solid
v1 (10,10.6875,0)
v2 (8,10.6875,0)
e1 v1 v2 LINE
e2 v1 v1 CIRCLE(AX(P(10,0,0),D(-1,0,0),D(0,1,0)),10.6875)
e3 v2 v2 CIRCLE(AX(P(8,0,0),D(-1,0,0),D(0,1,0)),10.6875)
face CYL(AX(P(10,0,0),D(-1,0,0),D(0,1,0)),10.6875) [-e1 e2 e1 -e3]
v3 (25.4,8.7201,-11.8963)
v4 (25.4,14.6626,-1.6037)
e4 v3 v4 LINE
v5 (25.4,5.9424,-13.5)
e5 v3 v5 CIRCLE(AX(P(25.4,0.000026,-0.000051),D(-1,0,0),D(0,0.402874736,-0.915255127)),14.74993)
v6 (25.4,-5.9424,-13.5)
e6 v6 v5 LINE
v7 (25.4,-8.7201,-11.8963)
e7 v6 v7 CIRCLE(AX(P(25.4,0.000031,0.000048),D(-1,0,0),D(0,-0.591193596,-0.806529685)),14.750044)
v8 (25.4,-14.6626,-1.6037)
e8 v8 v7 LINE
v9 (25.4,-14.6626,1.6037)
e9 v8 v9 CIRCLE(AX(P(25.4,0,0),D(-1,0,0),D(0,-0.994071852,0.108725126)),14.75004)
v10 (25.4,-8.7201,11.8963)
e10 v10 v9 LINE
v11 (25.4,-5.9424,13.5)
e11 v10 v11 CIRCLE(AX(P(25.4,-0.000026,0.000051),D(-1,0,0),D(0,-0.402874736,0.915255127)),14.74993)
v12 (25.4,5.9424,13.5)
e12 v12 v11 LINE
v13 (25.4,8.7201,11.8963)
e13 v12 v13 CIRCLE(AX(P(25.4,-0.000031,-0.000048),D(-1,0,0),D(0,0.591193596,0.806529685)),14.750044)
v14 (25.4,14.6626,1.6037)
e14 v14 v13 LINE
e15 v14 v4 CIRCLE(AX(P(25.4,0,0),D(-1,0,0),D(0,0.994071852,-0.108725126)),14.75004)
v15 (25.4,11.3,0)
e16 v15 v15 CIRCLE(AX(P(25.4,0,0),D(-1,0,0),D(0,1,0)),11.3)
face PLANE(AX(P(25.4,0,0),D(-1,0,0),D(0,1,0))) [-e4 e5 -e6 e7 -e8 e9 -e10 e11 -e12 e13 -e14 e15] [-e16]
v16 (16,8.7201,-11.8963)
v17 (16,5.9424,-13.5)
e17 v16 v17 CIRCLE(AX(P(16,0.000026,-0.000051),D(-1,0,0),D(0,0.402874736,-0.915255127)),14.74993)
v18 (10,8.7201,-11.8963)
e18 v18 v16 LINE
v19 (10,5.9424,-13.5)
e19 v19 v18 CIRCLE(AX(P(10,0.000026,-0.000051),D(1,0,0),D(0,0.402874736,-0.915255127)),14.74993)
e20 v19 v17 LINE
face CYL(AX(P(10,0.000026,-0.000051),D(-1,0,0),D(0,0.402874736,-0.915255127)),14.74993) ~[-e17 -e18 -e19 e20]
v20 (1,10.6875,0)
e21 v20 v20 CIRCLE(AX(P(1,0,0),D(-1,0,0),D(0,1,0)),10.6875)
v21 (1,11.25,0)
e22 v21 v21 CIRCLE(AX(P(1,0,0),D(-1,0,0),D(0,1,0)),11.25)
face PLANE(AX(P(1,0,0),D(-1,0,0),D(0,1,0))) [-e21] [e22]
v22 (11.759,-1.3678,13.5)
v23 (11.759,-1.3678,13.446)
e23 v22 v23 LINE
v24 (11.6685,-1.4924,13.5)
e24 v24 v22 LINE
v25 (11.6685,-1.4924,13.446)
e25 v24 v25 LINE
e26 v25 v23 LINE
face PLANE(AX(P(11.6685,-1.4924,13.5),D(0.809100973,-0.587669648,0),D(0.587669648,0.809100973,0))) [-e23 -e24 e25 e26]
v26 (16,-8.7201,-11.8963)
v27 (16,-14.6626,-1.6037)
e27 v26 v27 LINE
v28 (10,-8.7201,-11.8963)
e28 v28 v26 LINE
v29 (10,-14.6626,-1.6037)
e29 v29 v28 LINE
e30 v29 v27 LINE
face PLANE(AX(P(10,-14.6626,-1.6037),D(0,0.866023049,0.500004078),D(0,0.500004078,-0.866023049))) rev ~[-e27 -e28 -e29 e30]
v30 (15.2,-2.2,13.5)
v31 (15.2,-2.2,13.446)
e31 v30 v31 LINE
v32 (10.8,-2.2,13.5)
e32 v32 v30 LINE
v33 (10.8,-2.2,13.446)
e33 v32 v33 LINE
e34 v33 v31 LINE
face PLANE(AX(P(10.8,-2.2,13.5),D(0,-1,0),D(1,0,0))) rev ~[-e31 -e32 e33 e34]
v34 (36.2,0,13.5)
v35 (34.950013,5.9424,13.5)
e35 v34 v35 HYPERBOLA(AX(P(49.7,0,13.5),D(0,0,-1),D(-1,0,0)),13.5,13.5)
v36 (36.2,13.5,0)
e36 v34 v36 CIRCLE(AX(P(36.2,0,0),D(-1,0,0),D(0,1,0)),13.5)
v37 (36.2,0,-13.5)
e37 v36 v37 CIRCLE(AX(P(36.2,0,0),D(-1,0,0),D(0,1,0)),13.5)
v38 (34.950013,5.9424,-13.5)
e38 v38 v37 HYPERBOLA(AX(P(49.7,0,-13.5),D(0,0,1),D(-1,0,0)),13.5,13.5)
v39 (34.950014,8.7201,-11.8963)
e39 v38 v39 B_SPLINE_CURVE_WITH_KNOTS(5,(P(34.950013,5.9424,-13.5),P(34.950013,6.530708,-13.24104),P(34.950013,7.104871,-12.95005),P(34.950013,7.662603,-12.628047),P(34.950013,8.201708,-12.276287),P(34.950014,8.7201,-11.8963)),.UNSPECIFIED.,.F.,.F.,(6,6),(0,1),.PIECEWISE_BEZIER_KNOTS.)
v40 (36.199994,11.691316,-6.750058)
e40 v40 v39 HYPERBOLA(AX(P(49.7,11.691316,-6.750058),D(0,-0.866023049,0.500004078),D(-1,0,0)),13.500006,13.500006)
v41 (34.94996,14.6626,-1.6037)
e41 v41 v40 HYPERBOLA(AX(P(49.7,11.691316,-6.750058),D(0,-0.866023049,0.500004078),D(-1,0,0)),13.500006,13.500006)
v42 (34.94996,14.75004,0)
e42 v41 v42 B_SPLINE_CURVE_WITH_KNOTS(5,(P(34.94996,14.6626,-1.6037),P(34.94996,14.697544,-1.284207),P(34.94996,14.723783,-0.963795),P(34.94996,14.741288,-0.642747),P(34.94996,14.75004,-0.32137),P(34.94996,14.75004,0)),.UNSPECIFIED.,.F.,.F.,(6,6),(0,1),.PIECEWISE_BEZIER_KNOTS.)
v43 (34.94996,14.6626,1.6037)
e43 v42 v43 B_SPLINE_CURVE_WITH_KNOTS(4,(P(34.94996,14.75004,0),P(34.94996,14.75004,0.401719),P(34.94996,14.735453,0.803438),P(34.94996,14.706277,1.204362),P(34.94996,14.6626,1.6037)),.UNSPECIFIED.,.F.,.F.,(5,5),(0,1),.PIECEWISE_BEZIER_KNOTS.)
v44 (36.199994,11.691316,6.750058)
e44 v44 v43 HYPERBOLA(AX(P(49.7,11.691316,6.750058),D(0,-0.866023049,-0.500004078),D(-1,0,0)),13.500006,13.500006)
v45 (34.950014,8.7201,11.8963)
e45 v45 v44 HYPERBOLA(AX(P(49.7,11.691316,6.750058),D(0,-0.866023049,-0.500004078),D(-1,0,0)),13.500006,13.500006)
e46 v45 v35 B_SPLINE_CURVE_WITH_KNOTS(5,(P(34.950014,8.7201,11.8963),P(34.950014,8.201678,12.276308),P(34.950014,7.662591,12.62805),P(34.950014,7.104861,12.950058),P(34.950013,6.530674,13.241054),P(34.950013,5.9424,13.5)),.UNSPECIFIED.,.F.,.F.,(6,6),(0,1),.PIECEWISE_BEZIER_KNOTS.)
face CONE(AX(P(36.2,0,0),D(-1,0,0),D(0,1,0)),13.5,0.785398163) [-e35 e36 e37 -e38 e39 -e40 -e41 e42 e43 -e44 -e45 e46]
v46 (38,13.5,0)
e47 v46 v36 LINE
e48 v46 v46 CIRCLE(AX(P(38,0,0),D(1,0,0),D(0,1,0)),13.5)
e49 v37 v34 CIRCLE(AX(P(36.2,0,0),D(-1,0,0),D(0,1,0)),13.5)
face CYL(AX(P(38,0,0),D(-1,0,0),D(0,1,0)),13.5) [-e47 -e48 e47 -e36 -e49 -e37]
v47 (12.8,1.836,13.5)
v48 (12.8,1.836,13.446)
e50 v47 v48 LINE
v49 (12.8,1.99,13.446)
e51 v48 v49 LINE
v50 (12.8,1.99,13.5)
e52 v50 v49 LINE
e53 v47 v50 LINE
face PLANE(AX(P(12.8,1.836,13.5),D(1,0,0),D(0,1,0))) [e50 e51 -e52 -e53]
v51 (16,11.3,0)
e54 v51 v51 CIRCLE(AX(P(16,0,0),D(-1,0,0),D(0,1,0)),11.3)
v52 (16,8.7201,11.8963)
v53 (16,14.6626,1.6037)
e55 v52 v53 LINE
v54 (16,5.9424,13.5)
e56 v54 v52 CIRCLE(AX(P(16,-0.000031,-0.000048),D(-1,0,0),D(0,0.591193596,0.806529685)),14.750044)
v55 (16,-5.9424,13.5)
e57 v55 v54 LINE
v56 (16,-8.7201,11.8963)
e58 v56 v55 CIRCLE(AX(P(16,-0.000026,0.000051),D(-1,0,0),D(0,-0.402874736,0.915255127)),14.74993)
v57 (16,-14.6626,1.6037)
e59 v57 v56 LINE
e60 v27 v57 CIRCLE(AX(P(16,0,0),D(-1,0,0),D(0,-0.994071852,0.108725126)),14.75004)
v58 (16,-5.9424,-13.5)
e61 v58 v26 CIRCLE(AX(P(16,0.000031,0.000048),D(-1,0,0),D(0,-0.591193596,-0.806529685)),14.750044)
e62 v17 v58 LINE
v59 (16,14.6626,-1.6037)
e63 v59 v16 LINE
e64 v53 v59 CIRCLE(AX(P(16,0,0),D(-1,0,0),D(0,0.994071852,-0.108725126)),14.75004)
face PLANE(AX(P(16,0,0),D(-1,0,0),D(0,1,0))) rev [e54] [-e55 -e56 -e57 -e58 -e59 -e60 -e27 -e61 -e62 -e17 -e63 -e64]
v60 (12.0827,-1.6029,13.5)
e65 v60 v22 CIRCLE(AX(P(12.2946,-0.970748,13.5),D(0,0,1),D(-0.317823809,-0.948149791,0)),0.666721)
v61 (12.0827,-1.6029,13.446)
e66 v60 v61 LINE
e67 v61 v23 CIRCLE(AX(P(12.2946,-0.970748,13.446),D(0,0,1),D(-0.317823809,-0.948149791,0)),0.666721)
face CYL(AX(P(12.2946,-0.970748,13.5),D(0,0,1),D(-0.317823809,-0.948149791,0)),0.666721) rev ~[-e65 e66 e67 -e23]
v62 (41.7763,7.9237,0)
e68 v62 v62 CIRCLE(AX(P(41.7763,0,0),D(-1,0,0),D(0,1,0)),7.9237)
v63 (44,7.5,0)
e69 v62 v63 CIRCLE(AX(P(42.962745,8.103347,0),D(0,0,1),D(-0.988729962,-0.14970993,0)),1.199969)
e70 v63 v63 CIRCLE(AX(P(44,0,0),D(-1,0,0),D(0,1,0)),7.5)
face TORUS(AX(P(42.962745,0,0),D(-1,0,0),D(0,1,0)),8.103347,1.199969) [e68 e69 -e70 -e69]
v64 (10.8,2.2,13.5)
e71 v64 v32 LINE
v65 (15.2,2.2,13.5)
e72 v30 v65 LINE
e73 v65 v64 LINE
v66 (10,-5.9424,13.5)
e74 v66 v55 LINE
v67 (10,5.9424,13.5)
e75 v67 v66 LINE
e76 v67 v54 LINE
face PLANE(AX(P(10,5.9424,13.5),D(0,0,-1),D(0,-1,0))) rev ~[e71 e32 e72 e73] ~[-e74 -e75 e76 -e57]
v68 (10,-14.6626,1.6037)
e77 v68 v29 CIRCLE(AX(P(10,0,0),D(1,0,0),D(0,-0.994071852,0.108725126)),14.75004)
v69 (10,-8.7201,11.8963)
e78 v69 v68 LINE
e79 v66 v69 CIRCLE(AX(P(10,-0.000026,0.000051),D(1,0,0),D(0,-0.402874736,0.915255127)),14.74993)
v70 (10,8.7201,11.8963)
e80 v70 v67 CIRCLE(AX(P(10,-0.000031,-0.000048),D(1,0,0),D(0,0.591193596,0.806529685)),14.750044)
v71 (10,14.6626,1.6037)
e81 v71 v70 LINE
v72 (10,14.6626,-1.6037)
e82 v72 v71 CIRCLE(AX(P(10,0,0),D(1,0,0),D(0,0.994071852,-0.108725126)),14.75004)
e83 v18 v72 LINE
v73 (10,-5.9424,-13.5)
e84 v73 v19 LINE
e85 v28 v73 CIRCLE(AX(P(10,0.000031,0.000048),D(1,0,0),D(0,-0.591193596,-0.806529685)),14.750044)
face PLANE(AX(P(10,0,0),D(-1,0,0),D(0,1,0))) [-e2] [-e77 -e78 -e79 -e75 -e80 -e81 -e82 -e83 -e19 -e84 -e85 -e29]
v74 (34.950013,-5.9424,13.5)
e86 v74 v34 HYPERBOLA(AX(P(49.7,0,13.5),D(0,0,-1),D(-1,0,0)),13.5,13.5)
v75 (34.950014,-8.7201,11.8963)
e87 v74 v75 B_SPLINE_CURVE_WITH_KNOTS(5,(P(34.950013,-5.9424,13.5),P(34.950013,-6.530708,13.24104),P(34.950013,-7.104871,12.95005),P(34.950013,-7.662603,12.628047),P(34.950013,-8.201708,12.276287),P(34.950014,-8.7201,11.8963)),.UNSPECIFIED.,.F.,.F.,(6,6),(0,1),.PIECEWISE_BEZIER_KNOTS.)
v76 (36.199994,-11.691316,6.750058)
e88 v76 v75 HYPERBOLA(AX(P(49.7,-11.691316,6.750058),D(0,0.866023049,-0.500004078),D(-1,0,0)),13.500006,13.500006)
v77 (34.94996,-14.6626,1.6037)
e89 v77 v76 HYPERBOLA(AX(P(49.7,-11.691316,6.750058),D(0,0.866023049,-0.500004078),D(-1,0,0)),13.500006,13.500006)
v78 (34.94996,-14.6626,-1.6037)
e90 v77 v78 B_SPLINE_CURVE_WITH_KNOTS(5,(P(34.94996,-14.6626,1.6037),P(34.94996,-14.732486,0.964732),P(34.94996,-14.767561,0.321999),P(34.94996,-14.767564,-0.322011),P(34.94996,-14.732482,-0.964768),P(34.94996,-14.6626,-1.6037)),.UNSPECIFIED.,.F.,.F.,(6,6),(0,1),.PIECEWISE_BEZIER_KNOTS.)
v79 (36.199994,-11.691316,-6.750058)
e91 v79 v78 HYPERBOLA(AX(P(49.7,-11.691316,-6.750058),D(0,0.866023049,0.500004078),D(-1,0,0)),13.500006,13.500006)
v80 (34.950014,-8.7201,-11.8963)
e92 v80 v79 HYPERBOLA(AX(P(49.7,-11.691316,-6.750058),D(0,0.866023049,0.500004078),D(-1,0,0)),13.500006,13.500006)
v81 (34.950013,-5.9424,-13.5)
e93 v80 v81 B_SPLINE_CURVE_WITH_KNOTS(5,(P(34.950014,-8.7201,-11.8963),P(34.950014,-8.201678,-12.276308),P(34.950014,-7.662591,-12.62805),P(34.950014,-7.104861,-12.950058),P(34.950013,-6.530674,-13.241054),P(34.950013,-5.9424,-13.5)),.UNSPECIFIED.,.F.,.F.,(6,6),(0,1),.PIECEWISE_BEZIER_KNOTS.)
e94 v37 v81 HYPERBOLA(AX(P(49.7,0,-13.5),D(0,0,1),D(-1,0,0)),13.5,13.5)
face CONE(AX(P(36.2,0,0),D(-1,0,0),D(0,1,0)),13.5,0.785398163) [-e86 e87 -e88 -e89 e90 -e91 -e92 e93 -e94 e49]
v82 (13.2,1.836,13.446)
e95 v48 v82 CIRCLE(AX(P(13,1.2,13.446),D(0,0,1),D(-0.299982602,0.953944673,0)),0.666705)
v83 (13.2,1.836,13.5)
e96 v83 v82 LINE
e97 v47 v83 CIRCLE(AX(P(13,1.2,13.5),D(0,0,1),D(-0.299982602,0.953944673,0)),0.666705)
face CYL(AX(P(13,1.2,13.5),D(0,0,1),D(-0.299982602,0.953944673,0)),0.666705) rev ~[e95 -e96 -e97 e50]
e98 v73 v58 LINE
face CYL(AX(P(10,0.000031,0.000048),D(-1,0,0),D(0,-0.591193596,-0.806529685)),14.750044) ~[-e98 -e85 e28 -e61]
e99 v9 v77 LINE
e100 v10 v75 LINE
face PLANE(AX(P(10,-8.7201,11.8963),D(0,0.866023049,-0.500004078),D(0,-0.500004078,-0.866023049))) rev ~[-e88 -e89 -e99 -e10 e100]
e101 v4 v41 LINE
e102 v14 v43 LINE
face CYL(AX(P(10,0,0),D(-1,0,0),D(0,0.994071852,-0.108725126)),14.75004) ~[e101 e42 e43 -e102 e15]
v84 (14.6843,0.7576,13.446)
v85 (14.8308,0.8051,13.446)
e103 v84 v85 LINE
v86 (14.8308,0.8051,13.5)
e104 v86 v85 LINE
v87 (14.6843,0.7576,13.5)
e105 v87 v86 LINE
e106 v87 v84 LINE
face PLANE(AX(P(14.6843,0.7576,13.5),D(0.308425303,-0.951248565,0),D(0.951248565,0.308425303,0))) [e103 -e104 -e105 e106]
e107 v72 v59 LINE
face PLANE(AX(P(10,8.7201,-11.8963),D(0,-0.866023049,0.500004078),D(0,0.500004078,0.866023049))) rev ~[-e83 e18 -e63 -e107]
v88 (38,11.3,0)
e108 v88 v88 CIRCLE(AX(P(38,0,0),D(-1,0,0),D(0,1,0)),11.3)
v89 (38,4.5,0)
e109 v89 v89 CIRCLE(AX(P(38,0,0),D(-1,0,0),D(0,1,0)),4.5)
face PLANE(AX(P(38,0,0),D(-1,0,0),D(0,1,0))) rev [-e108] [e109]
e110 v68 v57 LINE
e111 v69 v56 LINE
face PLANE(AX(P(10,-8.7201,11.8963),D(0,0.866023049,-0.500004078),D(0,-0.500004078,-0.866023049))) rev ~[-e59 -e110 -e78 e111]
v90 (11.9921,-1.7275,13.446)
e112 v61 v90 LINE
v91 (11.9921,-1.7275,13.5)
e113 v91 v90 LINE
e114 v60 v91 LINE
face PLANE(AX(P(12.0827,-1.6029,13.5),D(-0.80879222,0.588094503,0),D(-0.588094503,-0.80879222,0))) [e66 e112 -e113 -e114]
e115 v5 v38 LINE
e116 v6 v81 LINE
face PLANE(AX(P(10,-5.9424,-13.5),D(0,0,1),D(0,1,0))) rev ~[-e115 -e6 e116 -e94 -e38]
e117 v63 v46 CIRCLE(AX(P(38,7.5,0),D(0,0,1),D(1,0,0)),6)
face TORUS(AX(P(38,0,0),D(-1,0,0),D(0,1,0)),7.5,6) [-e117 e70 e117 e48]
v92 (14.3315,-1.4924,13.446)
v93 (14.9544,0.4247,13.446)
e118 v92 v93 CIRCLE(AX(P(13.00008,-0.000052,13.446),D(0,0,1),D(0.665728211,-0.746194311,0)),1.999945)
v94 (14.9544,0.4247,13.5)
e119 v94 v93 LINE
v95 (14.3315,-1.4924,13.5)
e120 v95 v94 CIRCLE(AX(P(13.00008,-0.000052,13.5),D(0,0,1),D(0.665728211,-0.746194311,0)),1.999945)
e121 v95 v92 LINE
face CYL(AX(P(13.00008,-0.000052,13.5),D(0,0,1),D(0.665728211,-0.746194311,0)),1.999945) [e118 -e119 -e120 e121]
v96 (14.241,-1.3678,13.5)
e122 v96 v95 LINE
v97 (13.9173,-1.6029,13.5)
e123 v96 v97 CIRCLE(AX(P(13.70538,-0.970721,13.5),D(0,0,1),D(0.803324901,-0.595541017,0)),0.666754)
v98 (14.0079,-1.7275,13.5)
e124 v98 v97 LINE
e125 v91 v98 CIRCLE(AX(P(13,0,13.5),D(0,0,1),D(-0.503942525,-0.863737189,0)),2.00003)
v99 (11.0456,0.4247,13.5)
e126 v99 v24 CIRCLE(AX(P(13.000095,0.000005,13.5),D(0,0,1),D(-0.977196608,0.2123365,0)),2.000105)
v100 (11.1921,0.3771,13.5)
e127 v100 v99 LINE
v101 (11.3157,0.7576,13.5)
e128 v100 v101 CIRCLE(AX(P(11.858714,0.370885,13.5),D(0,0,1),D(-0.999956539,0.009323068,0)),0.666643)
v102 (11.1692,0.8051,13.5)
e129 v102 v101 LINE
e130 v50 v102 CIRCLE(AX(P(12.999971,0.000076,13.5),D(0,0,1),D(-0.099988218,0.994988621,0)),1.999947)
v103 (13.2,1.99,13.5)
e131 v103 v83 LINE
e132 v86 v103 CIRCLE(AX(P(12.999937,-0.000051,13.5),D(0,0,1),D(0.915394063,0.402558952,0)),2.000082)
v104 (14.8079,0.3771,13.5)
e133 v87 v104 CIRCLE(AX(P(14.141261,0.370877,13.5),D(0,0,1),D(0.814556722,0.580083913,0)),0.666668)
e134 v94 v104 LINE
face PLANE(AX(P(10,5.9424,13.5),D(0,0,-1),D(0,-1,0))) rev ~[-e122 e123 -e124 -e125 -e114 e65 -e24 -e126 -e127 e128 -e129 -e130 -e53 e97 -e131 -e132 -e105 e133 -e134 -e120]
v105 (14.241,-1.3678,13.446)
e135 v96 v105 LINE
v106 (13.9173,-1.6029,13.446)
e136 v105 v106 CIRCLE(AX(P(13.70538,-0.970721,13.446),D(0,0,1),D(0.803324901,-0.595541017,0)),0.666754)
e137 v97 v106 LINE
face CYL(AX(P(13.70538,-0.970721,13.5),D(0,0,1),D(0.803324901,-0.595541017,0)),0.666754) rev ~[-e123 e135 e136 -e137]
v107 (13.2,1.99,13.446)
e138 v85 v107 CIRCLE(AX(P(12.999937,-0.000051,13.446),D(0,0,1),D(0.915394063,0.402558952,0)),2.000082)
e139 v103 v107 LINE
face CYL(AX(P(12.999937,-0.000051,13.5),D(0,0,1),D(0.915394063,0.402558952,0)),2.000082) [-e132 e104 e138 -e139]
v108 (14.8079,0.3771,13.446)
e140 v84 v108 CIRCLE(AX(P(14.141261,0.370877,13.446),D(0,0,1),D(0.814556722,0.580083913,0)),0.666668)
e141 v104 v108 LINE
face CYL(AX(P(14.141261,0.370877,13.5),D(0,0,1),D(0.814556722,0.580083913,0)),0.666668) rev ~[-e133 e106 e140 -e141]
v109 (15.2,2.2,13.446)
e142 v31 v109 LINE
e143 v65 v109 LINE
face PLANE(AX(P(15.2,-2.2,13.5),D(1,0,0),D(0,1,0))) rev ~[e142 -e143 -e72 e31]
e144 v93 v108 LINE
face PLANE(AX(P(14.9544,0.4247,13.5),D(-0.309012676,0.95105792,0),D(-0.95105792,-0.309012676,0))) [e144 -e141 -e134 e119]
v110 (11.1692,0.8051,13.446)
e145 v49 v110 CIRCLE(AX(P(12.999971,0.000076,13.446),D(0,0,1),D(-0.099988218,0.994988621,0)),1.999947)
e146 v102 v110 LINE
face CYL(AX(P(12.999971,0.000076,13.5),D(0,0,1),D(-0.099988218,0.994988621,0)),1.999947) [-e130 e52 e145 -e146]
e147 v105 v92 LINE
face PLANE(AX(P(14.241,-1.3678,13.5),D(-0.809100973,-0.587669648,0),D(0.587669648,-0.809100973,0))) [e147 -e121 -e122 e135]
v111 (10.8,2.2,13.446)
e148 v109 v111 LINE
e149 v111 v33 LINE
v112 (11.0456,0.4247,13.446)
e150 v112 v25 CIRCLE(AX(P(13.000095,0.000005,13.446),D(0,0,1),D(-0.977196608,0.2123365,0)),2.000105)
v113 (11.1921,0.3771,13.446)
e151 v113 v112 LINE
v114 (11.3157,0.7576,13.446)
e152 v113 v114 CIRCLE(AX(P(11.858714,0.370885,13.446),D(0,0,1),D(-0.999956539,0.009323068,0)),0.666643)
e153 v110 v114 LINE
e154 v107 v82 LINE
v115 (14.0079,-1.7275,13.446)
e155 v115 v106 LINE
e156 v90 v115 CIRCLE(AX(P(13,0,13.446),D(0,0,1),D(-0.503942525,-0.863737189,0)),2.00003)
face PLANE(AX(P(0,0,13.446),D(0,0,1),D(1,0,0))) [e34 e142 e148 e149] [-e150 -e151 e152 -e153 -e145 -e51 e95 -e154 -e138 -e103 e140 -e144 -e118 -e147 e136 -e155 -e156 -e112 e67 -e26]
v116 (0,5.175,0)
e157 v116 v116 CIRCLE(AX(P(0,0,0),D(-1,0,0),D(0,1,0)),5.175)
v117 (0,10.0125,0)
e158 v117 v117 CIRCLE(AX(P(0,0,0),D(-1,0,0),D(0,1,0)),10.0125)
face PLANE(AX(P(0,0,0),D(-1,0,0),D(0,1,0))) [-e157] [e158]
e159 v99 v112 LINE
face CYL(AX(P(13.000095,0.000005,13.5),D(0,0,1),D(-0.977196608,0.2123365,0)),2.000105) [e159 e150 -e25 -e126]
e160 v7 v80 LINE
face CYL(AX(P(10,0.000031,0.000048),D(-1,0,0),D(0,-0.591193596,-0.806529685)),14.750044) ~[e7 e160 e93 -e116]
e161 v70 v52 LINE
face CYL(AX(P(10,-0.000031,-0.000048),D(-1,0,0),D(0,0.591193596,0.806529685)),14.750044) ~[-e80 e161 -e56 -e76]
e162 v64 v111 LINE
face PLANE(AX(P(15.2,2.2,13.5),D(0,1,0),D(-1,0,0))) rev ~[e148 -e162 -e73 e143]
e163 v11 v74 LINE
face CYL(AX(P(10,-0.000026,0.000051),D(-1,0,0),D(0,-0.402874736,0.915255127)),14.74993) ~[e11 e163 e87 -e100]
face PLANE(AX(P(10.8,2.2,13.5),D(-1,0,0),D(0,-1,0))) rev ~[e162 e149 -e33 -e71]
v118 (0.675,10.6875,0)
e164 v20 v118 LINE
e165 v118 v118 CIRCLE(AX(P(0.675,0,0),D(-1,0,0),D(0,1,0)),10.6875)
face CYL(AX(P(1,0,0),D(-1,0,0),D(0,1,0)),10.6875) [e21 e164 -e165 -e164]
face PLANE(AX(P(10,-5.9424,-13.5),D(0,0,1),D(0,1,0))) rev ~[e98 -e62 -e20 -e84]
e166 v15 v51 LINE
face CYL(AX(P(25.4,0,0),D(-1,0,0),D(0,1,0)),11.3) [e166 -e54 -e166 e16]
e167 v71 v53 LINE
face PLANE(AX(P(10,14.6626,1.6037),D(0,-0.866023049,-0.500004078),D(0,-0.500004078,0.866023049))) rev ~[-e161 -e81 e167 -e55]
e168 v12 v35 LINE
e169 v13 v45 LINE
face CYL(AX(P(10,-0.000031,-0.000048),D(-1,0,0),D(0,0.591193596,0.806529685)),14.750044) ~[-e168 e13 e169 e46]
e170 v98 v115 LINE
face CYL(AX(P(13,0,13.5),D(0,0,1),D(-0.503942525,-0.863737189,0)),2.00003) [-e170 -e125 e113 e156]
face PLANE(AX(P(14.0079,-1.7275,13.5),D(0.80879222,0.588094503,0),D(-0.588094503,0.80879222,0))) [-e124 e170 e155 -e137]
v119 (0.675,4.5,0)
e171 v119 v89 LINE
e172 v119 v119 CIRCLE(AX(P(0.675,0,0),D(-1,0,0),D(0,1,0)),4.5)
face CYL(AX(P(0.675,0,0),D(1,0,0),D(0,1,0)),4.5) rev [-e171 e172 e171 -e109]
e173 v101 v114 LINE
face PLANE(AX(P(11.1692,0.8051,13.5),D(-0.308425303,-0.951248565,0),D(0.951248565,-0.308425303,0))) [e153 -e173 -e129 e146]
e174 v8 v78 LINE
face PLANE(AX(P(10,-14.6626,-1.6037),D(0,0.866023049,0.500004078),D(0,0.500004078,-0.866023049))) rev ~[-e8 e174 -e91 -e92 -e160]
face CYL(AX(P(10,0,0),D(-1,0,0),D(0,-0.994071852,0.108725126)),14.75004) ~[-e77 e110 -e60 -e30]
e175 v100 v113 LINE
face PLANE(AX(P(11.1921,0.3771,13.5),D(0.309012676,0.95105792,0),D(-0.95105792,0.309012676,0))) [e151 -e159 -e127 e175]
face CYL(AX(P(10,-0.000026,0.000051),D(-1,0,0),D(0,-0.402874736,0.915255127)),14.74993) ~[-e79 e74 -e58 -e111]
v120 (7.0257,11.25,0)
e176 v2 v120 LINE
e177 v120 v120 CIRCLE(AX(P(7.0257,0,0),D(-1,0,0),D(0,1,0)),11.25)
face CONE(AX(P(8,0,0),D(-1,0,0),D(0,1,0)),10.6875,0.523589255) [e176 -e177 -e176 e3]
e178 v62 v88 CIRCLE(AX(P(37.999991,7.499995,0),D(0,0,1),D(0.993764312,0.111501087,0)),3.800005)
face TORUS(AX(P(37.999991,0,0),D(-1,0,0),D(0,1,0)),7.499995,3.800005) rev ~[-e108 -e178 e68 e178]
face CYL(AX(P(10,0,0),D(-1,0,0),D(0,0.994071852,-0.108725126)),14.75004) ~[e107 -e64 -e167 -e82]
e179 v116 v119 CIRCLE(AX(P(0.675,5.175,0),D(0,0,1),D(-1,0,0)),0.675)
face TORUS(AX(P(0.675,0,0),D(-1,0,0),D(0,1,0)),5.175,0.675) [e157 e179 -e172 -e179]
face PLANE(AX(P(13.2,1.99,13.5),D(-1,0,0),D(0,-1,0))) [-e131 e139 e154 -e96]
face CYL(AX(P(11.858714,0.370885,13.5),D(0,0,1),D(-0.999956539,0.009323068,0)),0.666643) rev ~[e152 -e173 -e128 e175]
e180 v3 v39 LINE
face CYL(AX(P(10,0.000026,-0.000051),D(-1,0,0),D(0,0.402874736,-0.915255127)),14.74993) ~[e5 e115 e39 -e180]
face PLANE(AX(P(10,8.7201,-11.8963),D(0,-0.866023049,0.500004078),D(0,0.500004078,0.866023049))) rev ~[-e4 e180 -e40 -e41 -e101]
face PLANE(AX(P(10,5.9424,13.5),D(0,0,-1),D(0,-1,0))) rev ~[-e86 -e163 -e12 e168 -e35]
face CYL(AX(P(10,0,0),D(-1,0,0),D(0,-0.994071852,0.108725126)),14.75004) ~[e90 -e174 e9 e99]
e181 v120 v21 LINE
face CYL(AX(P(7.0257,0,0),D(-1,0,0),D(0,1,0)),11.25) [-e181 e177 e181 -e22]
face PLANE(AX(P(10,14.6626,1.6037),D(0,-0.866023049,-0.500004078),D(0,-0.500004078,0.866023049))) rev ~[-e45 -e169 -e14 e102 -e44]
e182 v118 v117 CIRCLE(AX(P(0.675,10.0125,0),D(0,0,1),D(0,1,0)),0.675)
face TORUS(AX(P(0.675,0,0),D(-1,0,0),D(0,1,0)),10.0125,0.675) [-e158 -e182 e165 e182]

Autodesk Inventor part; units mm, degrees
ref_plane "YZ Plane" through (0, 0, 0) normal (1, 0, 0) x (0, 1, 0)
ref_plane "XZ Plane" through (0, 0, 0) normal (0, 1, 0) x (-1, 0, 0)
ref_plane "XY Plane" through (0, 0, 0) normal (0, 0, 1) x (1, 0, 0)
sketch "Sketch_1" plane through (0, 0, 0) normal (0, 0, 1) x (1, 0, 0)
  line L0 (44, 0) -> (0, 0)
  line L1 (0, 10.0125) -> (0, 5.175)
  arc A0 (0, 5.175) -> (0.675, 4.5) centre (0.675, 5.175) ccw
  line L2 (0.675, 4.5) -> (38, 4.5)
  line L3 (38, 4.5) -> (38, 11.3)
  arc A1 (41.7763, 7.9237) -> (38, 11.3) centre (38, 7.5) ccw
  arc A2 (41.7763, 7.9237) -> (44, 7.5) centre (42.9628, 8.1034) ccw
  arc A3 (44, 7.5) -> (38, 13.5) centre (38, 7.5) ccw
  line L4 (38, 13.5) -> (36.2, 13.5)
  line L5 (36.2, 13.5) -> (31.7, 18)
  line L6 (31.7, 18) -> (25.4, 18)
  line L7 (25.4, 18) -> (25.4, 11.3)
  line L8 (25.4, 11.3) -> (16, 11.3)
  line L9 (16, 11.3) -> (16, 18)
  line L10 (16, 18) -> (10, 18)
  line L11 (10, 18) -> (10, 10.6875)
  line L12 (10, 10.6875) -> (8, 10.6875)
  line L13 (8, 10.6875) -> (7.0257, 11.25)
  line L14 (7.0257, 11.25) -> (1, 11.25)
  line L15 (1, 11.25) -> (1, 10.6875)
  line L16 (1, 10.6875) -> (0.675, 10.6875)
  arc A4 (0.675, 10.6875) -> (0, 10.0125) centre (0.675, 10.0125) ccw
revolve "Revolution1" add sketch "Sketch_1" angle 360 about axis through (44, 0, 0) along (-1, 0, 0)
sketch "Sketch_2" plane through (10, 0, 0) normal (1, 0, 0) x (0, 0, -1)
  line L0 (-27, 27) -> (-27, -27)
  line L1 (-27, -27) -> (27, -27)
  line L2 (27, -27) -> (27, 27)
  line L3 (27, 27) -> (-27, 27)
  arc A0 (-13.5, -5.9424) -> (-11.8963, -8.7201) centre (0, 0) ccw
  line L4 (-11.8963, -8.7201) -> (-1.6037, -14.6626)
  arc A1 (-1.6037, -14.6626) -> (1.6037, -14.6626) centre (0, 0) ccw
  line L5 (1.6037, -14.6626) -> (11.8963, -8.7201)
  arc A2 (11.8963, -8.7201) -> (13.5, -5.9424) centre (0, 0) ccw
  line L6 (13.5, -5.9424) -> (13.5, 5.9424)
  arc A3 (13.5, 5.9424) -> (11.8963, 8.7201) centre (0, 0) ccw
  line L7 (11.8963, 8.7201) -> (1.6037, 14.6626)
  arc A4 (1.6037, 14.6626) -> (-1.6037, 14.6626) centre (0, 0) ccw
  line L8 (-1.6037, 14.6626) -> (-11.8963, 8.7201)
  arc A5 (-11.8963, 8.7201) -> (-13.5, 5.9424) centre (0, 0) ccw
  line L9 (-13.5, 5.9424) -> (-13.5, -5.9424)
extrude "Extrusion1" cut sketch "Sketch_2" along normal blind 44
sketch "Skizze_1" plane through (0, 0, 13.5) normal (0, 0, 1) x (1, 0, 0)
  line L0 (10.8, 2.2) -> (10.8, -2.2)
  line L1 (10.8, -2.2) -> (15.2, -2.2)
  line L2 (15.2, -2.2) -> (15.2, 2.2)
  line L3 (15.2, 2.2) -> (10.8, 2.2)
  arc A0 (11.0456, 0.4247) -> (11.6685, -1.4924) centre (13, 0) ccw
  line L4 (11.6685, -1.4924) -> (11.759, -1.3678)
  arc A1 (12.0827, -1.6029) -> (11.759, -1.3678) centre (12.2947, -0.9708) ccw
  line L5 (12.0827, -1.6029) -> (11.9921, -1.7275)
  arc A2 (11.9921, -1.7275) -> (14.0079, -1.7275) centre (13, 0) ccw
  line L6 (14.0079, -1.7275) -> (13.9173, -1.6029)
  arc A3 (14.241, -1.3678) -> (13.9173, -1.6029) centre (13.7053, -0.9708) ccw
  line L7 (14.241, -1.3678) -> (14.3315, -1.4924)
  arc A4 (14.3315, -1.4924) -> (14.9544, 0.4247) centre (13, 0) ccw
  line L8 (14.9544, 0.4247) -> (14.8079, 0.3771)
  arc A5 (14.6843, 0.7576) -> (14.8079, 0.3771) centre (14.1413, 0.3708) ccw
  line L9 (14.6843, 0.7576) -> (14.8308, 0.8051)
  arc A6 (14.8308, 0.8051) -> (13.2, 1.99) centre (13, 0) ccw
  line L10 (13.2, 1.99) -> (13.2, 1.836)
  arc A7 (12.8, 1.836) -> (13.2, 1.836) centre (13, 1.2) ccw
  line L11 (12.8, 1.836) -> (12.8, 1.99)
  arc A8 (12.8, 1.99) -> (11.1692, 0.8051) centre (13, 0) ccw
  line L12 (11.1692, 0.8051) -> (11.3157, 0.7576)
  arc A9 (11.1921, 0.3771) -> (11.3157, 0.7576) centre (11.8587, 0.3708) ccw
  line L13 (11.1921, 0.3771) -> (11.0456, 0.4247)
extrude "Extrusion2" cut sketch "Skizze_1" against normal blind 0.054
properties part number "SKINTOP ST PG 16      Art. Nr. 53015240(F=9) Kunststoff"
